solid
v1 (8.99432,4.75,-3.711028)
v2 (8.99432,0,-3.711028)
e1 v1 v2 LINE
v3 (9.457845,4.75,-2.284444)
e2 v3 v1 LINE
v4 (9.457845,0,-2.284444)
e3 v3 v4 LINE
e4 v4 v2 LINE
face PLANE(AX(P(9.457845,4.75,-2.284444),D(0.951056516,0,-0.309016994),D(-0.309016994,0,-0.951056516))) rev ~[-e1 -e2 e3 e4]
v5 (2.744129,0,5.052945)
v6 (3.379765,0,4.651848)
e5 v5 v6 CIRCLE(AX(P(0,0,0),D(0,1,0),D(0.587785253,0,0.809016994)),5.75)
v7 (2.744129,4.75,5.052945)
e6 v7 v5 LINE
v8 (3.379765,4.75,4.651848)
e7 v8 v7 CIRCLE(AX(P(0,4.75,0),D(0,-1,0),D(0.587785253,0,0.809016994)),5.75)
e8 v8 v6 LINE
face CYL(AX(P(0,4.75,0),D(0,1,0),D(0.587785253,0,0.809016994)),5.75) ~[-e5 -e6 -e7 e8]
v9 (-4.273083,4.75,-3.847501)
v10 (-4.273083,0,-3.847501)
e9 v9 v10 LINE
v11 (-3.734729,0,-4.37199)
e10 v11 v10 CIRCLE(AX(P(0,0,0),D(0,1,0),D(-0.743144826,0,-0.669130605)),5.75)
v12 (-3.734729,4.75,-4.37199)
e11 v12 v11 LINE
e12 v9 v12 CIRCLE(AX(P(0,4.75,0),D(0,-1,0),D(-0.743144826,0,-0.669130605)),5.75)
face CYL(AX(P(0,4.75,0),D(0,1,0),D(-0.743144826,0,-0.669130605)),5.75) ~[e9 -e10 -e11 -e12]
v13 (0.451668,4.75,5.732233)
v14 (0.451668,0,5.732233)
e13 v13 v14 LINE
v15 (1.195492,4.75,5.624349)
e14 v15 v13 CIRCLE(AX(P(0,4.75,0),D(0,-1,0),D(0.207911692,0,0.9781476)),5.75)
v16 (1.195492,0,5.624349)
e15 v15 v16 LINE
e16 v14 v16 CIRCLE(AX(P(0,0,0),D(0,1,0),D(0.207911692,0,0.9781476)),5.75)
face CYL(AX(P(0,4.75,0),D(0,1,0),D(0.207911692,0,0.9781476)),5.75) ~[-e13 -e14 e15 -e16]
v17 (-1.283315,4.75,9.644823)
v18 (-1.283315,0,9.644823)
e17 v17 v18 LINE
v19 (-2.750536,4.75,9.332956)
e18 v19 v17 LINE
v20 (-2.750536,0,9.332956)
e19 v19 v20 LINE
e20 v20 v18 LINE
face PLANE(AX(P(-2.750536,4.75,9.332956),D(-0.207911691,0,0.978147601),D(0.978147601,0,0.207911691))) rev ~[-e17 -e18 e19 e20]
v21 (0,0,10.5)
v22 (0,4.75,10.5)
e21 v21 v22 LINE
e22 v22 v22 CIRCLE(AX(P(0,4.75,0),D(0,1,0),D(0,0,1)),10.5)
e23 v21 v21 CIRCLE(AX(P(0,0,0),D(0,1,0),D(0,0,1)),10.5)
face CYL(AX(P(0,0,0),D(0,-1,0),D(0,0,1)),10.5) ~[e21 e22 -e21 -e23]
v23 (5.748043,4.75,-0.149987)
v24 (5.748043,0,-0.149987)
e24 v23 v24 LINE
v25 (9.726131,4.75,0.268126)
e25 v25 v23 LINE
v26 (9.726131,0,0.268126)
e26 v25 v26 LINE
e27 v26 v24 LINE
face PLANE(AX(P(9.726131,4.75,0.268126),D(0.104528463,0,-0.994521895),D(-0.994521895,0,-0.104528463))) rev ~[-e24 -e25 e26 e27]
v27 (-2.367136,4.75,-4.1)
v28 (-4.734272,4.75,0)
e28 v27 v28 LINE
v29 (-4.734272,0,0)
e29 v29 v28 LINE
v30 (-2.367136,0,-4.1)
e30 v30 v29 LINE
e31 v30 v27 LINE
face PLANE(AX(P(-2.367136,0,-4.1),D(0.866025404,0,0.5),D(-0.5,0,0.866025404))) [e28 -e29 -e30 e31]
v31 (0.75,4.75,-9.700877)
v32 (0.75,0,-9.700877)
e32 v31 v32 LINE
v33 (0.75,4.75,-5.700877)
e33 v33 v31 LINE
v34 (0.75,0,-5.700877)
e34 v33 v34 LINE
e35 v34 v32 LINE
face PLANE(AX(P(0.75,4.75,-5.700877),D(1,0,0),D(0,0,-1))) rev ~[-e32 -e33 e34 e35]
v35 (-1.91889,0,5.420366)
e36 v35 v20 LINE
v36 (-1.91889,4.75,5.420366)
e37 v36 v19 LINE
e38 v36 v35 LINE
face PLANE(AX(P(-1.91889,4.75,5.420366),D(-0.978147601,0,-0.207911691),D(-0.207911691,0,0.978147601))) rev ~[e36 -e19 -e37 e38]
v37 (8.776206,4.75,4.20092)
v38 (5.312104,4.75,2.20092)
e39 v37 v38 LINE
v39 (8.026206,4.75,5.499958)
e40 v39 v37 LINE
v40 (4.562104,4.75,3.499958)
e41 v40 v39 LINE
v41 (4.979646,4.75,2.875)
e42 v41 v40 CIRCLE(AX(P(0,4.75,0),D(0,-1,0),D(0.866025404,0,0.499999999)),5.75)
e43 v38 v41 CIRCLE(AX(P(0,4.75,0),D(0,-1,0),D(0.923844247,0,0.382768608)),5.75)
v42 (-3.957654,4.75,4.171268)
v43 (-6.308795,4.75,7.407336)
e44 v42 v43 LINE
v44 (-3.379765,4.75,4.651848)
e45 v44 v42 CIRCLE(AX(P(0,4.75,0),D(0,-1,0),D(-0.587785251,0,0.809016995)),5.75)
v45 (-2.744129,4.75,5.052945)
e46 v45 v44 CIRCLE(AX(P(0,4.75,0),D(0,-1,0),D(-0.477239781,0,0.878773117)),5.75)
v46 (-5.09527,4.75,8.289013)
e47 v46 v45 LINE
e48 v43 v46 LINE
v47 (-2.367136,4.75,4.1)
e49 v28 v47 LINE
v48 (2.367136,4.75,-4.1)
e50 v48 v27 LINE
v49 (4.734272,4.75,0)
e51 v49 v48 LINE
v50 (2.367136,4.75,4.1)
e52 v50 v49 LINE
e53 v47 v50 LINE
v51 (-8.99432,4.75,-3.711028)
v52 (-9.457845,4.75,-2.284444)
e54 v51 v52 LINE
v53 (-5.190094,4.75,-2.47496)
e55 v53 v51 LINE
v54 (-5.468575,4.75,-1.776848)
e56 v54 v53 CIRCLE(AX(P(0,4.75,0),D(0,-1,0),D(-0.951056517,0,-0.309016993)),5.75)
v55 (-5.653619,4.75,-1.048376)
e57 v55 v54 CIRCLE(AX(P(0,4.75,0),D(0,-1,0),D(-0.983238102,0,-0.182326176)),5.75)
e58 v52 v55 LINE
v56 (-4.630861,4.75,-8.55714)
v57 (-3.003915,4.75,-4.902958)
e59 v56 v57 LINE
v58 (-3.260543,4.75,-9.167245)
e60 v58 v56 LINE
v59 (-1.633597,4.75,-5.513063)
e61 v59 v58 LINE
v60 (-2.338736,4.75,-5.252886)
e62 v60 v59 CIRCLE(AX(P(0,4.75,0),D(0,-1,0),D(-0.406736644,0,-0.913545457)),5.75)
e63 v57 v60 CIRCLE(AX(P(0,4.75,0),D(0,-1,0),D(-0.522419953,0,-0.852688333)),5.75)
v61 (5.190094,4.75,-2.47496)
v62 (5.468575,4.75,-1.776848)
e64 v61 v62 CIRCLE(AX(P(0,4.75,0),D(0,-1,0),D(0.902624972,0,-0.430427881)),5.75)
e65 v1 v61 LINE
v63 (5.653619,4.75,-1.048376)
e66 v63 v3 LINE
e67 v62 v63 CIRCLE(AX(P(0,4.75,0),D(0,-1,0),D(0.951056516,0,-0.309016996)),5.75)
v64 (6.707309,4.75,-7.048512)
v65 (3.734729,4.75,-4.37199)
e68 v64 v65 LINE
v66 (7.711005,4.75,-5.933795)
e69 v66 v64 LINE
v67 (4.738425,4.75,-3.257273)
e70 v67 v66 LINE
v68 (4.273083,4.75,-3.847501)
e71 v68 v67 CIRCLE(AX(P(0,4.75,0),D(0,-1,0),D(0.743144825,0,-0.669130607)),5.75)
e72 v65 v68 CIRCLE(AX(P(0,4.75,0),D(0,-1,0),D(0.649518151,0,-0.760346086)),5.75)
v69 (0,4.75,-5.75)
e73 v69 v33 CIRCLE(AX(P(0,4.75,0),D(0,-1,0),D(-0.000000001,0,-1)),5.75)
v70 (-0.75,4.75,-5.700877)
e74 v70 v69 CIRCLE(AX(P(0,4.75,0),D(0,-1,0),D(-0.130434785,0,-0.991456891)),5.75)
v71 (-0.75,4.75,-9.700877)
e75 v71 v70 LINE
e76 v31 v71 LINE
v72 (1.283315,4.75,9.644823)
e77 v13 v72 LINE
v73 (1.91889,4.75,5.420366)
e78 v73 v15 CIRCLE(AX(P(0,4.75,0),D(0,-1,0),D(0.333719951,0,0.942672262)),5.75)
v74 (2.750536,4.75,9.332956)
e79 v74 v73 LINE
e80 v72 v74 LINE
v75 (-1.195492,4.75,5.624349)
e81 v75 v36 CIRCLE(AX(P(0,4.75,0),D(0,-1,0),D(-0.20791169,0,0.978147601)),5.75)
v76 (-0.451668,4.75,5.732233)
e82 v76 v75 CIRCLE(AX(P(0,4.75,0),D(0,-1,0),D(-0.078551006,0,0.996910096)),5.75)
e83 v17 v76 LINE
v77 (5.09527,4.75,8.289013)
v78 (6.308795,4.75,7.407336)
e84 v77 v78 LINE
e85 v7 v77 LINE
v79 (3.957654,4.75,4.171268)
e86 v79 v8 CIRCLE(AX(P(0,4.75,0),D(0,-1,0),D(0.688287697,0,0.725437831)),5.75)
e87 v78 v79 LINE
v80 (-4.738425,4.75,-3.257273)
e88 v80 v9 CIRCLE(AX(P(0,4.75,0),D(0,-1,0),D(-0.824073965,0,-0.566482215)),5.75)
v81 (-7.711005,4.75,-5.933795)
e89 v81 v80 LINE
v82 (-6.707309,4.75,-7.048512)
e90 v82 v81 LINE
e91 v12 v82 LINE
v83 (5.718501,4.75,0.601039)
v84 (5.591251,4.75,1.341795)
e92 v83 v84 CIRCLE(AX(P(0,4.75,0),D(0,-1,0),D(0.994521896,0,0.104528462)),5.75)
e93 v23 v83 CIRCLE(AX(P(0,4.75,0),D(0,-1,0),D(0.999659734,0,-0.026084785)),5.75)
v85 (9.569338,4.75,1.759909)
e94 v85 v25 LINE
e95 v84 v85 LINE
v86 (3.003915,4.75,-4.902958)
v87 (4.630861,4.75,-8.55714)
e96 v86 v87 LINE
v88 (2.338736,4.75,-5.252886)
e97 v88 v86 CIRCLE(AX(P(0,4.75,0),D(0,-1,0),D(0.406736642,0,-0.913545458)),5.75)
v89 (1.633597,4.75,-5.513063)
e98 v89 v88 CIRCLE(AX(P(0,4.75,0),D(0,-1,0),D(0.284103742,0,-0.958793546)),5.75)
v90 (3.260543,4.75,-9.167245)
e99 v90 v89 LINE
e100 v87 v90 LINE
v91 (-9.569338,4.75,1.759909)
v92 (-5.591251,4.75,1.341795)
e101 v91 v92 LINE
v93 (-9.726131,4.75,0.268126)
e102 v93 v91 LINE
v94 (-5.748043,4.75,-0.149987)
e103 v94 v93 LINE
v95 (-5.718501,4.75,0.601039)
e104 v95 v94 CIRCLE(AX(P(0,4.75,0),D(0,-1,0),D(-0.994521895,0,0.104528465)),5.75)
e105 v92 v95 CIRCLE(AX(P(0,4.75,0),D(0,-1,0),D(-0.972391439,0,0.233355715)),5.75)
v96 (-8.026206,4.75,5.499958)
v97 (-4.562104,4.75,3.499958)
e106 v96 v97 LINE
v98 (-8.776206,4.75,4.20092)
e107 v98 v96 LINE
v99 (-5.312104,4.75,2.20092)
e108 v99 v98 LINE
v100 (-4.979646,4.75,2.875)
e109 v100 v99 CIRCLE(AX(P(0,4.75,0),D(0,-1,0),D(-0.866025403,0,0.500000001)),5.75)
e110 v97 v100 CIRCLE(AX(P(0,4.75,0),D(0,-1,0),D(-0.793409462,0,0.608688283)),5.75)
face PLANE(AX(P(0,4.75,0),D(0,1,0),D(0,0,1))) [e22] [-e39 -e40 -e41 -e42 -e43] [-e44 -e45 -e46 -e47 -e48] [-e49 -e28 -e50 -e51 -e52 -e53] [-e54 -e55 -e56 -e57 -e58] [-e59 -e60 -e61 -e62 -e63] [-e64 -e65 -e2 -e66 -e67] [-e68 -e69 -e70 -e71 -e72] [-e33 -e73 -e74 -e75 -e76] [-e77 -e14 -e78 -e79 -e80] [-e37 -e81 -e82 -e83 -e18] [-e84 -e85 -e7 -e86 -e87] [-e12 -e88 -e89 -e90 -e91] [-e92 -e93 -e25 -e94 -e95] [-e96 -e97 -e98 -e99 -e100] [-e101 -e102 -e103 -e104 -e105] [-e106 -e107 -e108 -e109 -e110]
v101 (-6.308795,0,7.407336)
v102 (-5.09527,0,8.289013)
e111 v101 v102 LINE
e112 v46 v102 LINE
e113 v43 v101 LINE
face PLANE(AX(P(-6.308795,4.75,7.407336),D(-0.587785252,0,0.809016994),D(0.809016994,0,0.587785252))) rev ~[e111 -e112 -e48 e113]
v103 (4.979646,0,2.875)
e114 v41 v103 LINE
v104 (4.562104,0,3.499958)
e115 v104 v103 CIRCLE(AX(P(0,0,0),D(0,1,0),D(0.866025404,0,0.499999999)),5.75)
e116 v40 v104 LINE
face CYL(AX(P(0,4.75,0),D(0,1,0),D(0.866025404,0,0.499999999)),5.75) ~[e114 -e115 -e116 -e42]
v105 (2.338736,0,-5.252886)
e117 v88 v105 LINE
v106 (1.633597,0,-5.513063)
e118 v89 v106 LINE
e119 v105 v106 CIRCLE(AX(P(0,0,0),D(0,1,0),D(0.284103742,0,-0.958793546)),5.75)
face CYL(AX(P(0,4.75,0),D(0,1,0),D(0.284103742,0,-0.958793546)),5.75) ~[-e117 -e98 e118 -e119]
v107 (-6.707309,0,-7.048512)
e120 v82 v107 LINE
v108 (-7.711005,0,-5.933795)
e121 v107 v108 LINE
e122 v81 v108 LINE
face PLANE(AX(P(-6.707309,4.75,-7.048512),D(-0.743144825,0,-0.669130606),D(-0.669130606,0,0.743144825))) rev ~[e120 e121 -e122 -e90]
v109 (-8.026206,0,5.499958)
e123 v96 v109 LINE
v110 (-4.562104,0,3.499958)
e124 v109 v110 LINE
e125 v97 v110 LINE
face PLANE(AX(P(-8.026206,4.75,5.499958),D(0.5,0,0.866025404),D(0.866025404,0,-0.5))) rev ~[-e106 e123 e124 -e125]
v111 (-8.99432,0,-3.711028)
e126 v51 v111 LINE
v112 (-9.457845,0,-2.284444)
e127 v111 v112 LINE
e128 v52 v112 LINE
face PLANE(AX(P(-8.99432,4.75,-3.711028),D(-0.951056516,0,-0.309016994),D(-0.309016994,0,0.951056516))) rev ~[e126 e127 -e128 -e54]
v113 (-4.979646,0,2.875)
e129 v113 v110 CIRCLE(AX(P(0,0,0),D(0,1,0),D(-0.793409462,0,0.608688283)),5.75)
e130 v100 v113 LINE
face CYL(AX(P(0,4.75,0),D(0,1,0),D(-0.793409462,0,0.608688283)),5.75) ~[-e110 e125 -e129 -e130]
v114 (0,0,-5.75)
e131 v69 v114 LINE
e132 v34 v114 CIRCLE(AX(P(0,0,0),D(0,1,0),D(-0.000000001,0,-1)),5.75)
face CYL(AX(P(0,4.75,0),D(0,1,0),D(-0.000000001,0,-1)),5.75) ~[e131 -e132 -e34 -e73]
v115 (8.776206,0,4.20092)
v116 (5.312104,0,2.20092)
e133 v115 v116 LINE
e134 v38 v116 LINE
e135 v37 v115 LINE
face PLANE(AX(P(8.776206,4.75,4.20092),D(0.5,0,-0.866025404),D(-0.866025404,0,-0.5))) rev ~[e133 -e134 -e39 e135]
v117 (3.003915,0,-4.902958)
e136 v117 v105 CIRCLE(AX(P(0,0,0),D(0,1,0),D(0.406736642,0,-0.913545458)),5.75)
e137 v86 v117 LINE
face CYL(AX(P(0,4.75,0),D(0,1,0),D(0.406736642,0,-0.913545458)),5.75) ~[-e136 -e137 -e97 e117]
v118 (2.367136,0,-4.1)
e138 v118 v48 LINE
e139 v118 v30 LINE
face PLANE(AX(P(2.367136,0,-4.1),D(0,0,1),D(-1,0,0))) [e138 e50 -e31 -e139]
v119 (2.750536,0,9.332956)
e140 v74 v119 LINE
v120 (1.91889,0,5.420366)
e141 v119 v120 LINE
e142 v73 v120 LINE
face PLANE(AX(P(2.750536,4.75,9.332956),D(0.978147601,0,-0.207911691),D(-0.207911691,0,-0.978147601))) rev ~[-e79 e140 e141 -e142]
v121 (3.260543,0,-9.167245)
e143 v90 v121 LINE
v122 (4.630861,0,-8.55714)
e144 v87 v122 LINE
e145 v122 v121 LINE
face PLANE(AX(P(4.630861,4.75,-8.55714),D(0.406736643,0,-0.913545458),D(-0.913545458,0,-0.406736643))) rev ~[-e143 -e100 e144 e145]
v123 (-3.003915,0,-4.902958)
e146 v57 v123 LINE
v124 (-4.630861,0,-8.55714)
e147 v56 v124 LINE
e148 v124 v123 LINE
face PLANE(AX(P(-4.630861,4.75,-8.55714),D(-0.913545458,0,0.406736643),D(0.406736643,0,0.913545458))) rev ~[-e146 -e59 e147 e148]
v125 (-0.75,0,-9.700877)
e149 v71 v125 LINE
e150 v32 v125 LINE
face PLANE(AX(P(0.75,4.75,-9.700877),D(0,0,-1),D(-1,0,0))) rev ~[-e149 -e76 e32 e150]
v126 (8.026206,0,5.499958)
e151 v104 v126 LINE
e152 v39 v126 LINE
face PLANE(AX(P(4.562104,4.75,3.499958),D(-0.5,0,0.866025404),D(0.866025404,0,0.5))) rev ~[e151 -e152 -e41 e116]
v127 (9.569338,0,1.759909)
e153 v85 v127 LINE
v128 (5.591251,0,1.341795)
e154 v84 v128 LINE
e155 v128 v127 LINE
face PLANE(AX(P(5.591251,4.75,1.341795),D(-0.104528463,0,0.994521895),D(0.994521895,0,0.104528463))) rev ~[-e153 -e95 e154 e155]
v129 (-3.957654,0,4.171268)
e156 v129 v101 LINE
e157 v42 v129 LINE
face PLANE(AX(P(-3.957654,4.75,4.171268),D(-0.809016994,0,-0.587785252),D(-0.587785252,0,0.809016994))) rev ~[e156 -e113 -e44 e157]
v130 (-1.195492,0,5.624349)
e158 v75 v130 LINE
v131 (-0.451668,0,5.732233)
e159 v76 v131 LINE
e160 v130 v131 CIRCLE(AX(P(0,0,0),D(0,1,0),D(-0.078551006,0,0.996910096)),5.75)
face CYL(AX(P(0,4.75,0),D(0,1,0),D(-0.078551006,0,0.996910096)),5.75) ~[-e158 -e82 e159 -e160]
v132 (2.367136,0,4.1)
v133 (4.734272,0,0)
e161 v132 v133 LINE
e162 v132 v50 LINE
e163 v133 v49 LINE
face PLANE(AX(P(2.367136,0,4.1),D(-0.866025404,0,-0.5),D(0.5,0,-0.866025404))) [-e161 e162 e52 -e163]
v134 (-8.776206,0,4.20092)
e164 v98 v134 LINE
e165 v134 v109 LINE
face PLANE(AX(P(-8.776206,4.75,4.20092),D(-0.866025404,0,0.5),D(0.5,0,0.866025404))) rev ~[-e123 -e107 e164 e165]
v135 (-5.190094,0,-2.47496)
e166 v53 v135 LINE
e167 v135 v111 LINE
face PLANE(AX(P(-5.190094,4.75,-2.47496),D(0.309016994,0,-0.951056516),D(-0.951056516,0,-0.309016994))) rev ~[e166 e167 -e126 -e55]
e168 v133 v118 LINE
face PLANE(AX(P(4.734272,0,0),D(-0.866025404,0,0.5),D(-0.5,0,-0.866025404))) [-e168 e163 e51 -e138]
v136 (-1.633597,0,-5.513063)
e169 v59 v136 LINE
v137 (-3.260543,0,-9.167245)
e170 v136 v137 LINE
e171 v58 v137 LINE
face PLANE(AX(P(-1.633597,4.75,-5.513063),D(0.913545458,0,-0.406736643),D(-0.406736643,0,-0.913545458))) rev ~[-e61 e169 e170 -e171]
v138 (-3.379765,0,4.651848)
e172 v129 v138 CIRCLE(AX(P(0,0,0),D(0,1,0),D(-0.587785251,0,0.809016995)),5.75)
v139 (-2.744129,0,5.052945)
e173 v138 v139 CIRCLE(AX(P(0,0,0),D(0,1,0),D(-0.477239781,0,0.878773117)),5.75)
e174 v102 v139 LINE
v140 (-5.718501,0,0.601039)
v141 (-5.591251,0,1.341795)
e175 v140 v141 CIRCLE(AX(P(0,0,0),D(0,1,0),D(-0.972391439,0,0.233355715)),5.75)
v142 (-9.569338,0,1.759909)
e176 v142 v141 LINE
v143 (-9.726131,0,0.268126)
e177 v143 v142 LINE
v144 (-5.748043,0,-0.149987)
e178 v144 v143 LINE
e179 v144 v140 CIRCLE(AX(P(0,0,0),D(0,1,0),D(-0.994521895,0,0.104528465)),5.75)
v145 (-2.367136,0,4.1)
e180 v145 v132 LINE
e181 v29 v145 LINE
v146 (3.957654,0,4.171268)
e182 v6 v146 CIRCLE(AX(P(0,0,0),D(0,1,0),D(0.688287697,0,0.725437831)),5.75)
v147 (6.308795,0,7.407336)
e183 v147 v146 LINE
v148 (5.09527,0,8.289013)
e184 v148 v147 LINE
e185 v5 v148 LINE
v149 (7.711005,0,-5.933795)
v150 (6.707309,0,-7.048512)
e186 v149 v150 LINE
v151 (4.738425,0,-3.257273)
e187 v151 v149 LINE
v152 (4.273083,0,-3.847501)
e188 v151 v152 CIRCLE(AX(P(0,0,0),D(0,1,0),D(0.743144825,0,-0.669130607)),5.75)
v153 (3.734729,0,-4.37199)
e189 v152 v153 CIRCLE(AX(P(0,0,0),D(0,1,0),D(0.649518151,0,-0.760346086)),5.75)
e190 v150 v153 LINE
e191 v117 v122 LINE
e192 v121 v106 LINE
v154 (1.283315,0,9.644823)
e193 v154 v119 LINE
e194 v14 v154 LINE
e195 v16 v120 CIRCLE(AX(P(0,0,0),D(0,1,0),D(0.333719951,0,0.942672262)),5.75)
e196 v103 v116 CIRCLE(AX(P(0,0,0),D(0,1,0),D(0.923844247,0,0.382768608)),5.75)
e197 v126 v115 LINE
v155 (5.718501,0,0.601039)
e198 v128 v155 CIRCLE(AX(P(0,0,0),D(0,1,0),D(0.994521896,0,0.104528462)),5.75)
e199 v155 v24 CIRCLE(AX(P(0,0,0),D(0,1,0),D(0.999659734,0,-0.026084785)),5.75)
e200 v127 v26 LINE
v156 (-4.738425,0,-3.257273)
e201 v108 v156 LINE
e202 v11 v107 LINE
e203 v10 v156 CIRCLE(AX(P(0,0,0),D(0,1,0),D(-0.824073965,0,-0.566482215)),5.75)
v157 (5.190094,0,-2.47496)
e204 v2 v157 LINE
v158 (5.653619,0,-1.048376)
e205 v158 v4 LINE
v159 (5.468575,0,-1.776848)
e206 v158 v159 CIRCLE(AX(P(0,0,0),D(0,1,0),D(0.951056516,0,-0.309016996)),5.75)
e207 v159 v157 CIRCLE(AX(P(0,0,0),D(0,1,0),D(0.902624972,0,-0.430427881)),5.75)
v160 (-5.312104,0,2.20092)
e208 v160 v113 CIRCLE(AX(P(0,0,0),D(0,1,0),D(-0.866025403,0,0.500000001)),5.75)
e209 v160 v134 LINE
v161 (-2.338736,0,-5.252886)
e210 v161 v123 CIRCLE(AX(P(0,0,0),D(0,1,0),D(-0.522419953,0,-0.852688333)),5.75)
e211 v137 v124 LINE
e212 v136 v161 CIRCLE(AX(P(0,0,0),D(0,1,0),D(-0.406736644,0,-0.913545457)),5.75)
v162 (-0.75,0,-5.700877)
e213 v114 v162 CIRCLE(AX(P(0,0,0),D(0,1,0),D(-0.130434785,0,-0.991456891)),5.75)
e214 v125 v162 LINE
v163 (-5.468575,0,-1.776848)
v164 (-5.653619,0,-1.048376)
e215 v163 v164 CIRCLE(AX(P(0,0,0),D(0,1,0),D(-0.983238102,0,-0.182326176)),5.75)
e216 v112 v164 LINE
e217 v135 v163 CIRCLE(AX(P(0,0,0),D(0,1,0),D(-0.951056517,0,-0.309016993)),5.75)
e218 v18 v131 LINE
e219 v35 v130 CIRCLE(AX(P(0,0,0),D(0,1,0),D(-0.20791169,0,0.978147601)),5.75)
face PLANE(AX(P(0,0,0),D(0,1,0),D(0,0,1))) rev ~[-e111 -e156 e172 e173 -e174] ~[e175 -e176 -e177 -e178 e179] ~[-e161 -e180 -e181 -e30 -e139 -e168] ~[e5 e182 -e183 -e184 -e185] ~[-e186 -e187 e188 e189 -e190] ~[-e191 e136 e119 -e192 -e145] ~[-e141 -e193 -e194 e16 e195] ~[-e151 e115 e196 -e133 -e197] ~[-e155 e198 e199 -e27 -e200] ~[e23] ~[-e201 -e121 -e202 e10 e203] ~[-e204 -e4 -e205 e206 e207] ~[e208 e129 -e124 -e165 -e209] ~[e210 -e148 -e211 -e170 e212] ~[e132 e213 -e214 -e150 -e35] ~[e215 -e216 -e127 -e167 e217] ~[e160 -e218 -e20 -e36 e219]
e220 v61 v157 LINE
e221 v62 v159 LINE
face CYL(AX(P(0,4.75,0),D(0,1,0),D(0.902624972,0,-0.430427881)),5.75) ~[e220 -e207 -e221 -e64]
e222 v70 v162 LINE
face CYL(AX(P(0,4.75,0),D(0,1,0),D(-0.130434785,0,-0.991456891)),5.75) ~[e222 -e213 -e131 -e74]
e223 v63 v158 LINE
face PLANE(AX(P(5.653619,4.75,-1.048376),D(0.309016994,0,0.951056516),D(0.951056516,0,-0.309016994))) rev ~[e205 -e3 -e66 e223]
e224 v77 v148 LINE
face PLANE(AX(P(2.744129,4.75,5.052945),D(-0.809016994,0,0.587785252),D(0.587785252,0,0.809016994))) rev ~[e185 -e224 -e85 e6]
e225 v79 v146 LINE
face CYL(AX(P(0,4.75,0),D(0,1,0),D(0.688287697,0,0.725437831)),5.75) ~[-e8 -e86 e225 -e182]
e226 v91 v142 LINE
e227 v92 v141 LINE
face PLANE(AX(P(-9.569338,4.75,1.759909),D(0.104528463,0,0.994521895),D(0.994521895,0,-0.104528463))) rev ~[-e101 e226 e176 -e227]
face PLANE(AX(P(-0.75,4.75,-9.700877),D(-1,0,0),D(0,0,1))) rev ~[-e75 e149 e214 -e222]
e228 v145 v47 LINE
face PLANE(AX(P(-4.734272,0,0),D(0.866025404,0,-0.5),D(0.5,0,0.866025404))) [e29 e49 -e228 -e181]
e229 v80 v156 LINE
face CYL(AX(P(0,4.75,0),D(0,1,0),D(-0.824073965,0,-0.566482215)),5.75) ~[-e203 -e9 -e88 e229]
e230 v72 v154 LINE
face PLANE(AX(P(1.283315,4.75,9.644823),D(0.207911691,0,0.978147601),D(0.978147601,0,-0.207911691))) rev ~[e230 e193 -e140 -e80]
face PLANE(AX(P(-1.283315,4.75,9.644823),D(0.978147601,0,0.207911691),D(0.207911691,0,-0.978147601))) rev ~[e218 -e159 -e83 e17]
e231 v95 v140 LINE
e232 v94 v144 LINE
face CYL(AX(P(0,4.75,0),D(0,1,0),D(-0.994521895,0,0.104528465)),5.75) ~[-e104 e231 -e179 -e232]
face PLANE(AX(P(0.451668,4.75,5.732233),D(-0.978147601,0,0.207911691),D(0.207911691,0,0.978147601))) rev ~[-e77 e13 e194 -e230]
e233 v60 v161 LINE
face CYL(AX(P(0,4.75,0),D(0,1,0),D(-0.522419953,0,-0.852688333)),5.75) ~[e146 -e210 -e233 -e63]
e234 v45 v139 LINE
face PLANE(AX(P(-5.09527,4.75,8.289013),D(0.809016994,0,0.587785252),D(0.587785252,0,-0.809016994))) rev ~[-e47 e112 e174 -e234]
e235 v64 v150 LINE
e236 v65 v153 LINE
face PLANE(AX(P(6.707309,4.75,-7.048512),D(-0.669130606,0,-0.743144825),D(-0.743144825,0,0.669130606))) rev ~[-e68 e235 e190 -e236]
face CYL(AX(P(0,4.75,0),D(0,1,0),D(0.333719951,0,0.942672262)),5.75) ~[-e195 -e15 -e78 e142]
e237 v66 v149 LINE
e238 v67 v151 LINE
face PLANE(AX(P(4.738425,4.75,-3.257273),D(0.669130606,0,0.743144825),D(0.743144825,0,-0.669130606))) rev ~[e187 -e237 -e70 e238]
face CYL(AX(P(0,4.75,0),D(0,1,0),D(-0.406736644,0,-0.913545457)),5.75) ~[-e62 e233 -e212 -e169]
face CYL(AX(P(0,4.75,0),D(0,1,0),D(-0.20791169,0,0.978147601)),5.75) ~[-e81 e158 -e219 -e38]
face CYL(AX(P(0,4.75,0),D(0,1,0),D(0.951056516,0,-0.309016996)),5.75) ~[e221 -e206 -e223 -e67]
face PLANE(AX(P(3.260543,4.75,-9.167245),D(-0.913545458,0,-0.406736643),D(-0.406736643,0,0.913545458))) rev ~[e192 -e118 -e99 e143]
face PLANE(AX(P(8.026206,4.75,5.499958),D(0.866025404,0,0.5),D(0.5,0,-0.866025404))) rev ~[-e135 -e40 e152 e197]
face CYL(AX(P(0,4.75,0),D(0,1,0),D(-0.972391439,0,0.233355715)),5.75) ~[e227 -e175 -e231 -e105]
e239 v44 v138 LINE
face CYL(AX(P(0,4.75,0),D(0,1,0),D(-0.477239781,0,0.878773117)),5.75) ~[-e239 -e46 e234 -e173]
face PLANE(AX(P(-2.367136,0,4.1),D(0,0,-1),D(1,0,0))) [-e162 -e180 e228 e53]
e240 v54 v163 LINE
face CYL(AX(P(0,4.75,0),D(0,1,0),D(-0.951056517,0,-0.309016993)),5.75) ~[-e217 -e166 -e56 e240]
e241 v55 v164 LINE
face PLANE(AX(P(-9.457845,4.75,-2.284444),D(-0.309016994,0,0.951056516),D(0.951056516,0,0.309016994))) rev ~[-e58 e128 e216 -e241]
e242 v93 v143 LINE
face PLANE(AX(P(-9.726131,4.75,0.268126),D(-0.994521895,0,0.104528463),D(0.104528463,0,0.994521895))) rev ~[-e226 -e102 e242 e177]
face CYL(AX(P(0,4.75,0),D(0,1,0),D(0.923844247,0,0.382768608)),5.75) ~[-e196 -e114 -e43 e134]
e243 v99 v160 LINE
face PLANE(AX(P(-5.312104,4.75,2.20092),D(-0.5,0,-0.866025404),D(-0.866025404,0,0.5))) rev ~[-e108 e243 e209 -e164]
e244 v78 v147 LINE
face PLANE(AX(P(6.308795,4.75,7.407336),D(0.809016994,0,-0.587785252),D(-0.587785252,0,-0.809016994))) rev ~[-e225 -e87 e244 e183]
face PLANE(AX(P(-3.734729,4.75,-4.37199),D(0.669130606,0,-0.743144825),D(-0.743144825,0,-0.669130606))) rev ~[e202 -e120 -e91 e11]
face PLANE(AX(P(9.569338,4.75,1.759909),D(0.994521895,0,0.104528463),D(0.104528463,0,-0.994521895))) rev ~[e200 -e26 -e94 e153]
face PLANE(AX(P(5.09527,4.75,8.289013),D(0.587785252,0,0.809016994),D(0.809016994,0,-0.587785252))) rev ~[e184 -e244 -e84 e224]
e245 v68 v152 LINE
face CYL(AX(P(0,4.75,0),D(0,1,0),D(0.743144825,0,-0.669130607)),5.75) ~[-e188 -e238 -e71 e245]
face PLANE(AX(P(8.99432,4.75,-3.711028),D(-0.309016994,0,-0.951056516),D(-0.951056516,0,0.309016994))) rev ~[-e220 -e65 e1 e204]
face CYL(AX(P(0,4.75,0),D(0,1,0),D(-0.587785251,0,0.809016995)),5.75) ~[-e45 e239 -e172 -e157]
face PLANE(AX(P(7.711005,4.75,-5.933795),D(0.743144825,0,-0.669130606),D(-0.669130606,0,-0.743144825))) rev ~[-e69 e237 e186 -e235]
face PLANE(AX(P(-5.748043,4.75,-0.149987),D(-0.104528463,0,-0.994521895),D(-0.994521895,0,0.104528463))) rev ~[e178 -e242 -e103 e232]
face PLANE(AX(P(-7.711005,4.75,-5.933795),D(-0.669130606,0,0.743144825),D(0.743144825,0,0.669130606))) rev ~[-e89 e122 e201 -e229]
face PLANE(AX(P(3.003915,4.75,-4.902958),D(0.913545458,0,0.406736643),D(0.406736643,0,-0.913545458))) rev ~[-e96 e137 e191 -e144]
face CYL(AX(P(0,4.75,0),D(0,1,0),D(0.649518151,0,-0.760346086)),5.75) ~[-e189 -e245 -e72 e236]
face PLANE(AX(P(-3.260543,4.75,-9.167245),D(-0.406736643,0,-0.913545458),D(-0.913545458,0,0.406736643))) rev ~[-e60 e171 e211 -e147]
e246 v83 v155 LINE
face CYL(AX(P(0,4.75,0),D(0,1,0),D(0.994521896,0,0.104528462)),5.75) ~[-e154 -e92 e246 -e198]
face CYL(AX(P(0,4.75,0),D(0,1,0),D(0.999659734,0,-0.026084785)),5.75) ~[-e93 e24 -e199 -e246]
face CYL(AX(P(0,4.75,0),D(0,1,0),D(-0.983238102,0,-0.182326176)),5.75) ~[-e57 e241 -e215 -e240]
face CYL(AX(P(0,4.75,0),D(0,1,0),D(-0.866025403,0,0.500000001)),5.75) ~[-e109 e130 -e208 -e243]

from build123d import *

# Parameters (mm, degrees)
SKETCH1_R           = 10.5
BOSS_EXTRUDE1_DEPTH = 4.75
CUT_EXTRUDE1_DEPTH  = 5
CIRPATTERN1_COUNT   = 15


with BuildPart() as part:
    # Sketch1 → Boss-Extrude1 (new body)
    with BuildSketch(Plane(origin=(0, 0, 0), x_dir=(1, 0, 0), z_dir=(0, 1, 0))):
        with Locations(Location((0, 0, 0), (0, 0, 270))):
            Circle(SKETCH1_R)
        Polygon((4.734272207, 0), (2.367136104, 4.1), (-2.367136104, 4.1), (-4.734272207, 0), (-2.367136104, -4.1), (2.367136104, -4.1), align=None, mode=Mode.SUBTRACT)
    extrude(amount=BOSS_EXTRUDE1_DEPTH)

    # Sketch2 → Cut-Extrude1 (cut)
    with BuildSketch(Plane(origin=(0, 4.75, 0), x_dir=(1, 0, 0), z_dir=(0, 1, 0))):
        with BuildLine():
            Line((0, 5.75), (0, 9.700877125))
            Line((0, 9.700877125), (-0.75, 9.700877125))
            Line((-0.75, 9.700877125), (-0.75, 5.700877125))
            ThreePointArc((-0.75, 5.700877125), (-0.375803491, 5.737706139), (0, 5.75))
        make_face()
        with BuildLine():
            Line((0.75, 9.700877125), (0, 9.700877125))
            Line((0, 9.700877125), (0, 5.75))
            ThreePointArc((0, 5.75), (0.375803491, 5.737706139), (0.75, 5.700877125))
            Line((0.75, 5.700877125), (0.75, 9.700877125))
        make_face()
    cut_extrude1 = extrude(amount=-CUT_EXTRUDE1_DEPTH, mode=Mode.SUBTRACT)

    # CirPattern1: Cut-Extrude1 ×15 about axis
    cirpattern1_axis = Axis((0, 0, 0), (0, 1, 0))
    for i in range(1, CIRPATTERN1_COUNT):
        add(cut_extrude1.rotate(cirpattern1_axis, i * 360 / CIRPATTERN1_COUNT), mode=Mode.SUBTRACT)


solid = part.part
